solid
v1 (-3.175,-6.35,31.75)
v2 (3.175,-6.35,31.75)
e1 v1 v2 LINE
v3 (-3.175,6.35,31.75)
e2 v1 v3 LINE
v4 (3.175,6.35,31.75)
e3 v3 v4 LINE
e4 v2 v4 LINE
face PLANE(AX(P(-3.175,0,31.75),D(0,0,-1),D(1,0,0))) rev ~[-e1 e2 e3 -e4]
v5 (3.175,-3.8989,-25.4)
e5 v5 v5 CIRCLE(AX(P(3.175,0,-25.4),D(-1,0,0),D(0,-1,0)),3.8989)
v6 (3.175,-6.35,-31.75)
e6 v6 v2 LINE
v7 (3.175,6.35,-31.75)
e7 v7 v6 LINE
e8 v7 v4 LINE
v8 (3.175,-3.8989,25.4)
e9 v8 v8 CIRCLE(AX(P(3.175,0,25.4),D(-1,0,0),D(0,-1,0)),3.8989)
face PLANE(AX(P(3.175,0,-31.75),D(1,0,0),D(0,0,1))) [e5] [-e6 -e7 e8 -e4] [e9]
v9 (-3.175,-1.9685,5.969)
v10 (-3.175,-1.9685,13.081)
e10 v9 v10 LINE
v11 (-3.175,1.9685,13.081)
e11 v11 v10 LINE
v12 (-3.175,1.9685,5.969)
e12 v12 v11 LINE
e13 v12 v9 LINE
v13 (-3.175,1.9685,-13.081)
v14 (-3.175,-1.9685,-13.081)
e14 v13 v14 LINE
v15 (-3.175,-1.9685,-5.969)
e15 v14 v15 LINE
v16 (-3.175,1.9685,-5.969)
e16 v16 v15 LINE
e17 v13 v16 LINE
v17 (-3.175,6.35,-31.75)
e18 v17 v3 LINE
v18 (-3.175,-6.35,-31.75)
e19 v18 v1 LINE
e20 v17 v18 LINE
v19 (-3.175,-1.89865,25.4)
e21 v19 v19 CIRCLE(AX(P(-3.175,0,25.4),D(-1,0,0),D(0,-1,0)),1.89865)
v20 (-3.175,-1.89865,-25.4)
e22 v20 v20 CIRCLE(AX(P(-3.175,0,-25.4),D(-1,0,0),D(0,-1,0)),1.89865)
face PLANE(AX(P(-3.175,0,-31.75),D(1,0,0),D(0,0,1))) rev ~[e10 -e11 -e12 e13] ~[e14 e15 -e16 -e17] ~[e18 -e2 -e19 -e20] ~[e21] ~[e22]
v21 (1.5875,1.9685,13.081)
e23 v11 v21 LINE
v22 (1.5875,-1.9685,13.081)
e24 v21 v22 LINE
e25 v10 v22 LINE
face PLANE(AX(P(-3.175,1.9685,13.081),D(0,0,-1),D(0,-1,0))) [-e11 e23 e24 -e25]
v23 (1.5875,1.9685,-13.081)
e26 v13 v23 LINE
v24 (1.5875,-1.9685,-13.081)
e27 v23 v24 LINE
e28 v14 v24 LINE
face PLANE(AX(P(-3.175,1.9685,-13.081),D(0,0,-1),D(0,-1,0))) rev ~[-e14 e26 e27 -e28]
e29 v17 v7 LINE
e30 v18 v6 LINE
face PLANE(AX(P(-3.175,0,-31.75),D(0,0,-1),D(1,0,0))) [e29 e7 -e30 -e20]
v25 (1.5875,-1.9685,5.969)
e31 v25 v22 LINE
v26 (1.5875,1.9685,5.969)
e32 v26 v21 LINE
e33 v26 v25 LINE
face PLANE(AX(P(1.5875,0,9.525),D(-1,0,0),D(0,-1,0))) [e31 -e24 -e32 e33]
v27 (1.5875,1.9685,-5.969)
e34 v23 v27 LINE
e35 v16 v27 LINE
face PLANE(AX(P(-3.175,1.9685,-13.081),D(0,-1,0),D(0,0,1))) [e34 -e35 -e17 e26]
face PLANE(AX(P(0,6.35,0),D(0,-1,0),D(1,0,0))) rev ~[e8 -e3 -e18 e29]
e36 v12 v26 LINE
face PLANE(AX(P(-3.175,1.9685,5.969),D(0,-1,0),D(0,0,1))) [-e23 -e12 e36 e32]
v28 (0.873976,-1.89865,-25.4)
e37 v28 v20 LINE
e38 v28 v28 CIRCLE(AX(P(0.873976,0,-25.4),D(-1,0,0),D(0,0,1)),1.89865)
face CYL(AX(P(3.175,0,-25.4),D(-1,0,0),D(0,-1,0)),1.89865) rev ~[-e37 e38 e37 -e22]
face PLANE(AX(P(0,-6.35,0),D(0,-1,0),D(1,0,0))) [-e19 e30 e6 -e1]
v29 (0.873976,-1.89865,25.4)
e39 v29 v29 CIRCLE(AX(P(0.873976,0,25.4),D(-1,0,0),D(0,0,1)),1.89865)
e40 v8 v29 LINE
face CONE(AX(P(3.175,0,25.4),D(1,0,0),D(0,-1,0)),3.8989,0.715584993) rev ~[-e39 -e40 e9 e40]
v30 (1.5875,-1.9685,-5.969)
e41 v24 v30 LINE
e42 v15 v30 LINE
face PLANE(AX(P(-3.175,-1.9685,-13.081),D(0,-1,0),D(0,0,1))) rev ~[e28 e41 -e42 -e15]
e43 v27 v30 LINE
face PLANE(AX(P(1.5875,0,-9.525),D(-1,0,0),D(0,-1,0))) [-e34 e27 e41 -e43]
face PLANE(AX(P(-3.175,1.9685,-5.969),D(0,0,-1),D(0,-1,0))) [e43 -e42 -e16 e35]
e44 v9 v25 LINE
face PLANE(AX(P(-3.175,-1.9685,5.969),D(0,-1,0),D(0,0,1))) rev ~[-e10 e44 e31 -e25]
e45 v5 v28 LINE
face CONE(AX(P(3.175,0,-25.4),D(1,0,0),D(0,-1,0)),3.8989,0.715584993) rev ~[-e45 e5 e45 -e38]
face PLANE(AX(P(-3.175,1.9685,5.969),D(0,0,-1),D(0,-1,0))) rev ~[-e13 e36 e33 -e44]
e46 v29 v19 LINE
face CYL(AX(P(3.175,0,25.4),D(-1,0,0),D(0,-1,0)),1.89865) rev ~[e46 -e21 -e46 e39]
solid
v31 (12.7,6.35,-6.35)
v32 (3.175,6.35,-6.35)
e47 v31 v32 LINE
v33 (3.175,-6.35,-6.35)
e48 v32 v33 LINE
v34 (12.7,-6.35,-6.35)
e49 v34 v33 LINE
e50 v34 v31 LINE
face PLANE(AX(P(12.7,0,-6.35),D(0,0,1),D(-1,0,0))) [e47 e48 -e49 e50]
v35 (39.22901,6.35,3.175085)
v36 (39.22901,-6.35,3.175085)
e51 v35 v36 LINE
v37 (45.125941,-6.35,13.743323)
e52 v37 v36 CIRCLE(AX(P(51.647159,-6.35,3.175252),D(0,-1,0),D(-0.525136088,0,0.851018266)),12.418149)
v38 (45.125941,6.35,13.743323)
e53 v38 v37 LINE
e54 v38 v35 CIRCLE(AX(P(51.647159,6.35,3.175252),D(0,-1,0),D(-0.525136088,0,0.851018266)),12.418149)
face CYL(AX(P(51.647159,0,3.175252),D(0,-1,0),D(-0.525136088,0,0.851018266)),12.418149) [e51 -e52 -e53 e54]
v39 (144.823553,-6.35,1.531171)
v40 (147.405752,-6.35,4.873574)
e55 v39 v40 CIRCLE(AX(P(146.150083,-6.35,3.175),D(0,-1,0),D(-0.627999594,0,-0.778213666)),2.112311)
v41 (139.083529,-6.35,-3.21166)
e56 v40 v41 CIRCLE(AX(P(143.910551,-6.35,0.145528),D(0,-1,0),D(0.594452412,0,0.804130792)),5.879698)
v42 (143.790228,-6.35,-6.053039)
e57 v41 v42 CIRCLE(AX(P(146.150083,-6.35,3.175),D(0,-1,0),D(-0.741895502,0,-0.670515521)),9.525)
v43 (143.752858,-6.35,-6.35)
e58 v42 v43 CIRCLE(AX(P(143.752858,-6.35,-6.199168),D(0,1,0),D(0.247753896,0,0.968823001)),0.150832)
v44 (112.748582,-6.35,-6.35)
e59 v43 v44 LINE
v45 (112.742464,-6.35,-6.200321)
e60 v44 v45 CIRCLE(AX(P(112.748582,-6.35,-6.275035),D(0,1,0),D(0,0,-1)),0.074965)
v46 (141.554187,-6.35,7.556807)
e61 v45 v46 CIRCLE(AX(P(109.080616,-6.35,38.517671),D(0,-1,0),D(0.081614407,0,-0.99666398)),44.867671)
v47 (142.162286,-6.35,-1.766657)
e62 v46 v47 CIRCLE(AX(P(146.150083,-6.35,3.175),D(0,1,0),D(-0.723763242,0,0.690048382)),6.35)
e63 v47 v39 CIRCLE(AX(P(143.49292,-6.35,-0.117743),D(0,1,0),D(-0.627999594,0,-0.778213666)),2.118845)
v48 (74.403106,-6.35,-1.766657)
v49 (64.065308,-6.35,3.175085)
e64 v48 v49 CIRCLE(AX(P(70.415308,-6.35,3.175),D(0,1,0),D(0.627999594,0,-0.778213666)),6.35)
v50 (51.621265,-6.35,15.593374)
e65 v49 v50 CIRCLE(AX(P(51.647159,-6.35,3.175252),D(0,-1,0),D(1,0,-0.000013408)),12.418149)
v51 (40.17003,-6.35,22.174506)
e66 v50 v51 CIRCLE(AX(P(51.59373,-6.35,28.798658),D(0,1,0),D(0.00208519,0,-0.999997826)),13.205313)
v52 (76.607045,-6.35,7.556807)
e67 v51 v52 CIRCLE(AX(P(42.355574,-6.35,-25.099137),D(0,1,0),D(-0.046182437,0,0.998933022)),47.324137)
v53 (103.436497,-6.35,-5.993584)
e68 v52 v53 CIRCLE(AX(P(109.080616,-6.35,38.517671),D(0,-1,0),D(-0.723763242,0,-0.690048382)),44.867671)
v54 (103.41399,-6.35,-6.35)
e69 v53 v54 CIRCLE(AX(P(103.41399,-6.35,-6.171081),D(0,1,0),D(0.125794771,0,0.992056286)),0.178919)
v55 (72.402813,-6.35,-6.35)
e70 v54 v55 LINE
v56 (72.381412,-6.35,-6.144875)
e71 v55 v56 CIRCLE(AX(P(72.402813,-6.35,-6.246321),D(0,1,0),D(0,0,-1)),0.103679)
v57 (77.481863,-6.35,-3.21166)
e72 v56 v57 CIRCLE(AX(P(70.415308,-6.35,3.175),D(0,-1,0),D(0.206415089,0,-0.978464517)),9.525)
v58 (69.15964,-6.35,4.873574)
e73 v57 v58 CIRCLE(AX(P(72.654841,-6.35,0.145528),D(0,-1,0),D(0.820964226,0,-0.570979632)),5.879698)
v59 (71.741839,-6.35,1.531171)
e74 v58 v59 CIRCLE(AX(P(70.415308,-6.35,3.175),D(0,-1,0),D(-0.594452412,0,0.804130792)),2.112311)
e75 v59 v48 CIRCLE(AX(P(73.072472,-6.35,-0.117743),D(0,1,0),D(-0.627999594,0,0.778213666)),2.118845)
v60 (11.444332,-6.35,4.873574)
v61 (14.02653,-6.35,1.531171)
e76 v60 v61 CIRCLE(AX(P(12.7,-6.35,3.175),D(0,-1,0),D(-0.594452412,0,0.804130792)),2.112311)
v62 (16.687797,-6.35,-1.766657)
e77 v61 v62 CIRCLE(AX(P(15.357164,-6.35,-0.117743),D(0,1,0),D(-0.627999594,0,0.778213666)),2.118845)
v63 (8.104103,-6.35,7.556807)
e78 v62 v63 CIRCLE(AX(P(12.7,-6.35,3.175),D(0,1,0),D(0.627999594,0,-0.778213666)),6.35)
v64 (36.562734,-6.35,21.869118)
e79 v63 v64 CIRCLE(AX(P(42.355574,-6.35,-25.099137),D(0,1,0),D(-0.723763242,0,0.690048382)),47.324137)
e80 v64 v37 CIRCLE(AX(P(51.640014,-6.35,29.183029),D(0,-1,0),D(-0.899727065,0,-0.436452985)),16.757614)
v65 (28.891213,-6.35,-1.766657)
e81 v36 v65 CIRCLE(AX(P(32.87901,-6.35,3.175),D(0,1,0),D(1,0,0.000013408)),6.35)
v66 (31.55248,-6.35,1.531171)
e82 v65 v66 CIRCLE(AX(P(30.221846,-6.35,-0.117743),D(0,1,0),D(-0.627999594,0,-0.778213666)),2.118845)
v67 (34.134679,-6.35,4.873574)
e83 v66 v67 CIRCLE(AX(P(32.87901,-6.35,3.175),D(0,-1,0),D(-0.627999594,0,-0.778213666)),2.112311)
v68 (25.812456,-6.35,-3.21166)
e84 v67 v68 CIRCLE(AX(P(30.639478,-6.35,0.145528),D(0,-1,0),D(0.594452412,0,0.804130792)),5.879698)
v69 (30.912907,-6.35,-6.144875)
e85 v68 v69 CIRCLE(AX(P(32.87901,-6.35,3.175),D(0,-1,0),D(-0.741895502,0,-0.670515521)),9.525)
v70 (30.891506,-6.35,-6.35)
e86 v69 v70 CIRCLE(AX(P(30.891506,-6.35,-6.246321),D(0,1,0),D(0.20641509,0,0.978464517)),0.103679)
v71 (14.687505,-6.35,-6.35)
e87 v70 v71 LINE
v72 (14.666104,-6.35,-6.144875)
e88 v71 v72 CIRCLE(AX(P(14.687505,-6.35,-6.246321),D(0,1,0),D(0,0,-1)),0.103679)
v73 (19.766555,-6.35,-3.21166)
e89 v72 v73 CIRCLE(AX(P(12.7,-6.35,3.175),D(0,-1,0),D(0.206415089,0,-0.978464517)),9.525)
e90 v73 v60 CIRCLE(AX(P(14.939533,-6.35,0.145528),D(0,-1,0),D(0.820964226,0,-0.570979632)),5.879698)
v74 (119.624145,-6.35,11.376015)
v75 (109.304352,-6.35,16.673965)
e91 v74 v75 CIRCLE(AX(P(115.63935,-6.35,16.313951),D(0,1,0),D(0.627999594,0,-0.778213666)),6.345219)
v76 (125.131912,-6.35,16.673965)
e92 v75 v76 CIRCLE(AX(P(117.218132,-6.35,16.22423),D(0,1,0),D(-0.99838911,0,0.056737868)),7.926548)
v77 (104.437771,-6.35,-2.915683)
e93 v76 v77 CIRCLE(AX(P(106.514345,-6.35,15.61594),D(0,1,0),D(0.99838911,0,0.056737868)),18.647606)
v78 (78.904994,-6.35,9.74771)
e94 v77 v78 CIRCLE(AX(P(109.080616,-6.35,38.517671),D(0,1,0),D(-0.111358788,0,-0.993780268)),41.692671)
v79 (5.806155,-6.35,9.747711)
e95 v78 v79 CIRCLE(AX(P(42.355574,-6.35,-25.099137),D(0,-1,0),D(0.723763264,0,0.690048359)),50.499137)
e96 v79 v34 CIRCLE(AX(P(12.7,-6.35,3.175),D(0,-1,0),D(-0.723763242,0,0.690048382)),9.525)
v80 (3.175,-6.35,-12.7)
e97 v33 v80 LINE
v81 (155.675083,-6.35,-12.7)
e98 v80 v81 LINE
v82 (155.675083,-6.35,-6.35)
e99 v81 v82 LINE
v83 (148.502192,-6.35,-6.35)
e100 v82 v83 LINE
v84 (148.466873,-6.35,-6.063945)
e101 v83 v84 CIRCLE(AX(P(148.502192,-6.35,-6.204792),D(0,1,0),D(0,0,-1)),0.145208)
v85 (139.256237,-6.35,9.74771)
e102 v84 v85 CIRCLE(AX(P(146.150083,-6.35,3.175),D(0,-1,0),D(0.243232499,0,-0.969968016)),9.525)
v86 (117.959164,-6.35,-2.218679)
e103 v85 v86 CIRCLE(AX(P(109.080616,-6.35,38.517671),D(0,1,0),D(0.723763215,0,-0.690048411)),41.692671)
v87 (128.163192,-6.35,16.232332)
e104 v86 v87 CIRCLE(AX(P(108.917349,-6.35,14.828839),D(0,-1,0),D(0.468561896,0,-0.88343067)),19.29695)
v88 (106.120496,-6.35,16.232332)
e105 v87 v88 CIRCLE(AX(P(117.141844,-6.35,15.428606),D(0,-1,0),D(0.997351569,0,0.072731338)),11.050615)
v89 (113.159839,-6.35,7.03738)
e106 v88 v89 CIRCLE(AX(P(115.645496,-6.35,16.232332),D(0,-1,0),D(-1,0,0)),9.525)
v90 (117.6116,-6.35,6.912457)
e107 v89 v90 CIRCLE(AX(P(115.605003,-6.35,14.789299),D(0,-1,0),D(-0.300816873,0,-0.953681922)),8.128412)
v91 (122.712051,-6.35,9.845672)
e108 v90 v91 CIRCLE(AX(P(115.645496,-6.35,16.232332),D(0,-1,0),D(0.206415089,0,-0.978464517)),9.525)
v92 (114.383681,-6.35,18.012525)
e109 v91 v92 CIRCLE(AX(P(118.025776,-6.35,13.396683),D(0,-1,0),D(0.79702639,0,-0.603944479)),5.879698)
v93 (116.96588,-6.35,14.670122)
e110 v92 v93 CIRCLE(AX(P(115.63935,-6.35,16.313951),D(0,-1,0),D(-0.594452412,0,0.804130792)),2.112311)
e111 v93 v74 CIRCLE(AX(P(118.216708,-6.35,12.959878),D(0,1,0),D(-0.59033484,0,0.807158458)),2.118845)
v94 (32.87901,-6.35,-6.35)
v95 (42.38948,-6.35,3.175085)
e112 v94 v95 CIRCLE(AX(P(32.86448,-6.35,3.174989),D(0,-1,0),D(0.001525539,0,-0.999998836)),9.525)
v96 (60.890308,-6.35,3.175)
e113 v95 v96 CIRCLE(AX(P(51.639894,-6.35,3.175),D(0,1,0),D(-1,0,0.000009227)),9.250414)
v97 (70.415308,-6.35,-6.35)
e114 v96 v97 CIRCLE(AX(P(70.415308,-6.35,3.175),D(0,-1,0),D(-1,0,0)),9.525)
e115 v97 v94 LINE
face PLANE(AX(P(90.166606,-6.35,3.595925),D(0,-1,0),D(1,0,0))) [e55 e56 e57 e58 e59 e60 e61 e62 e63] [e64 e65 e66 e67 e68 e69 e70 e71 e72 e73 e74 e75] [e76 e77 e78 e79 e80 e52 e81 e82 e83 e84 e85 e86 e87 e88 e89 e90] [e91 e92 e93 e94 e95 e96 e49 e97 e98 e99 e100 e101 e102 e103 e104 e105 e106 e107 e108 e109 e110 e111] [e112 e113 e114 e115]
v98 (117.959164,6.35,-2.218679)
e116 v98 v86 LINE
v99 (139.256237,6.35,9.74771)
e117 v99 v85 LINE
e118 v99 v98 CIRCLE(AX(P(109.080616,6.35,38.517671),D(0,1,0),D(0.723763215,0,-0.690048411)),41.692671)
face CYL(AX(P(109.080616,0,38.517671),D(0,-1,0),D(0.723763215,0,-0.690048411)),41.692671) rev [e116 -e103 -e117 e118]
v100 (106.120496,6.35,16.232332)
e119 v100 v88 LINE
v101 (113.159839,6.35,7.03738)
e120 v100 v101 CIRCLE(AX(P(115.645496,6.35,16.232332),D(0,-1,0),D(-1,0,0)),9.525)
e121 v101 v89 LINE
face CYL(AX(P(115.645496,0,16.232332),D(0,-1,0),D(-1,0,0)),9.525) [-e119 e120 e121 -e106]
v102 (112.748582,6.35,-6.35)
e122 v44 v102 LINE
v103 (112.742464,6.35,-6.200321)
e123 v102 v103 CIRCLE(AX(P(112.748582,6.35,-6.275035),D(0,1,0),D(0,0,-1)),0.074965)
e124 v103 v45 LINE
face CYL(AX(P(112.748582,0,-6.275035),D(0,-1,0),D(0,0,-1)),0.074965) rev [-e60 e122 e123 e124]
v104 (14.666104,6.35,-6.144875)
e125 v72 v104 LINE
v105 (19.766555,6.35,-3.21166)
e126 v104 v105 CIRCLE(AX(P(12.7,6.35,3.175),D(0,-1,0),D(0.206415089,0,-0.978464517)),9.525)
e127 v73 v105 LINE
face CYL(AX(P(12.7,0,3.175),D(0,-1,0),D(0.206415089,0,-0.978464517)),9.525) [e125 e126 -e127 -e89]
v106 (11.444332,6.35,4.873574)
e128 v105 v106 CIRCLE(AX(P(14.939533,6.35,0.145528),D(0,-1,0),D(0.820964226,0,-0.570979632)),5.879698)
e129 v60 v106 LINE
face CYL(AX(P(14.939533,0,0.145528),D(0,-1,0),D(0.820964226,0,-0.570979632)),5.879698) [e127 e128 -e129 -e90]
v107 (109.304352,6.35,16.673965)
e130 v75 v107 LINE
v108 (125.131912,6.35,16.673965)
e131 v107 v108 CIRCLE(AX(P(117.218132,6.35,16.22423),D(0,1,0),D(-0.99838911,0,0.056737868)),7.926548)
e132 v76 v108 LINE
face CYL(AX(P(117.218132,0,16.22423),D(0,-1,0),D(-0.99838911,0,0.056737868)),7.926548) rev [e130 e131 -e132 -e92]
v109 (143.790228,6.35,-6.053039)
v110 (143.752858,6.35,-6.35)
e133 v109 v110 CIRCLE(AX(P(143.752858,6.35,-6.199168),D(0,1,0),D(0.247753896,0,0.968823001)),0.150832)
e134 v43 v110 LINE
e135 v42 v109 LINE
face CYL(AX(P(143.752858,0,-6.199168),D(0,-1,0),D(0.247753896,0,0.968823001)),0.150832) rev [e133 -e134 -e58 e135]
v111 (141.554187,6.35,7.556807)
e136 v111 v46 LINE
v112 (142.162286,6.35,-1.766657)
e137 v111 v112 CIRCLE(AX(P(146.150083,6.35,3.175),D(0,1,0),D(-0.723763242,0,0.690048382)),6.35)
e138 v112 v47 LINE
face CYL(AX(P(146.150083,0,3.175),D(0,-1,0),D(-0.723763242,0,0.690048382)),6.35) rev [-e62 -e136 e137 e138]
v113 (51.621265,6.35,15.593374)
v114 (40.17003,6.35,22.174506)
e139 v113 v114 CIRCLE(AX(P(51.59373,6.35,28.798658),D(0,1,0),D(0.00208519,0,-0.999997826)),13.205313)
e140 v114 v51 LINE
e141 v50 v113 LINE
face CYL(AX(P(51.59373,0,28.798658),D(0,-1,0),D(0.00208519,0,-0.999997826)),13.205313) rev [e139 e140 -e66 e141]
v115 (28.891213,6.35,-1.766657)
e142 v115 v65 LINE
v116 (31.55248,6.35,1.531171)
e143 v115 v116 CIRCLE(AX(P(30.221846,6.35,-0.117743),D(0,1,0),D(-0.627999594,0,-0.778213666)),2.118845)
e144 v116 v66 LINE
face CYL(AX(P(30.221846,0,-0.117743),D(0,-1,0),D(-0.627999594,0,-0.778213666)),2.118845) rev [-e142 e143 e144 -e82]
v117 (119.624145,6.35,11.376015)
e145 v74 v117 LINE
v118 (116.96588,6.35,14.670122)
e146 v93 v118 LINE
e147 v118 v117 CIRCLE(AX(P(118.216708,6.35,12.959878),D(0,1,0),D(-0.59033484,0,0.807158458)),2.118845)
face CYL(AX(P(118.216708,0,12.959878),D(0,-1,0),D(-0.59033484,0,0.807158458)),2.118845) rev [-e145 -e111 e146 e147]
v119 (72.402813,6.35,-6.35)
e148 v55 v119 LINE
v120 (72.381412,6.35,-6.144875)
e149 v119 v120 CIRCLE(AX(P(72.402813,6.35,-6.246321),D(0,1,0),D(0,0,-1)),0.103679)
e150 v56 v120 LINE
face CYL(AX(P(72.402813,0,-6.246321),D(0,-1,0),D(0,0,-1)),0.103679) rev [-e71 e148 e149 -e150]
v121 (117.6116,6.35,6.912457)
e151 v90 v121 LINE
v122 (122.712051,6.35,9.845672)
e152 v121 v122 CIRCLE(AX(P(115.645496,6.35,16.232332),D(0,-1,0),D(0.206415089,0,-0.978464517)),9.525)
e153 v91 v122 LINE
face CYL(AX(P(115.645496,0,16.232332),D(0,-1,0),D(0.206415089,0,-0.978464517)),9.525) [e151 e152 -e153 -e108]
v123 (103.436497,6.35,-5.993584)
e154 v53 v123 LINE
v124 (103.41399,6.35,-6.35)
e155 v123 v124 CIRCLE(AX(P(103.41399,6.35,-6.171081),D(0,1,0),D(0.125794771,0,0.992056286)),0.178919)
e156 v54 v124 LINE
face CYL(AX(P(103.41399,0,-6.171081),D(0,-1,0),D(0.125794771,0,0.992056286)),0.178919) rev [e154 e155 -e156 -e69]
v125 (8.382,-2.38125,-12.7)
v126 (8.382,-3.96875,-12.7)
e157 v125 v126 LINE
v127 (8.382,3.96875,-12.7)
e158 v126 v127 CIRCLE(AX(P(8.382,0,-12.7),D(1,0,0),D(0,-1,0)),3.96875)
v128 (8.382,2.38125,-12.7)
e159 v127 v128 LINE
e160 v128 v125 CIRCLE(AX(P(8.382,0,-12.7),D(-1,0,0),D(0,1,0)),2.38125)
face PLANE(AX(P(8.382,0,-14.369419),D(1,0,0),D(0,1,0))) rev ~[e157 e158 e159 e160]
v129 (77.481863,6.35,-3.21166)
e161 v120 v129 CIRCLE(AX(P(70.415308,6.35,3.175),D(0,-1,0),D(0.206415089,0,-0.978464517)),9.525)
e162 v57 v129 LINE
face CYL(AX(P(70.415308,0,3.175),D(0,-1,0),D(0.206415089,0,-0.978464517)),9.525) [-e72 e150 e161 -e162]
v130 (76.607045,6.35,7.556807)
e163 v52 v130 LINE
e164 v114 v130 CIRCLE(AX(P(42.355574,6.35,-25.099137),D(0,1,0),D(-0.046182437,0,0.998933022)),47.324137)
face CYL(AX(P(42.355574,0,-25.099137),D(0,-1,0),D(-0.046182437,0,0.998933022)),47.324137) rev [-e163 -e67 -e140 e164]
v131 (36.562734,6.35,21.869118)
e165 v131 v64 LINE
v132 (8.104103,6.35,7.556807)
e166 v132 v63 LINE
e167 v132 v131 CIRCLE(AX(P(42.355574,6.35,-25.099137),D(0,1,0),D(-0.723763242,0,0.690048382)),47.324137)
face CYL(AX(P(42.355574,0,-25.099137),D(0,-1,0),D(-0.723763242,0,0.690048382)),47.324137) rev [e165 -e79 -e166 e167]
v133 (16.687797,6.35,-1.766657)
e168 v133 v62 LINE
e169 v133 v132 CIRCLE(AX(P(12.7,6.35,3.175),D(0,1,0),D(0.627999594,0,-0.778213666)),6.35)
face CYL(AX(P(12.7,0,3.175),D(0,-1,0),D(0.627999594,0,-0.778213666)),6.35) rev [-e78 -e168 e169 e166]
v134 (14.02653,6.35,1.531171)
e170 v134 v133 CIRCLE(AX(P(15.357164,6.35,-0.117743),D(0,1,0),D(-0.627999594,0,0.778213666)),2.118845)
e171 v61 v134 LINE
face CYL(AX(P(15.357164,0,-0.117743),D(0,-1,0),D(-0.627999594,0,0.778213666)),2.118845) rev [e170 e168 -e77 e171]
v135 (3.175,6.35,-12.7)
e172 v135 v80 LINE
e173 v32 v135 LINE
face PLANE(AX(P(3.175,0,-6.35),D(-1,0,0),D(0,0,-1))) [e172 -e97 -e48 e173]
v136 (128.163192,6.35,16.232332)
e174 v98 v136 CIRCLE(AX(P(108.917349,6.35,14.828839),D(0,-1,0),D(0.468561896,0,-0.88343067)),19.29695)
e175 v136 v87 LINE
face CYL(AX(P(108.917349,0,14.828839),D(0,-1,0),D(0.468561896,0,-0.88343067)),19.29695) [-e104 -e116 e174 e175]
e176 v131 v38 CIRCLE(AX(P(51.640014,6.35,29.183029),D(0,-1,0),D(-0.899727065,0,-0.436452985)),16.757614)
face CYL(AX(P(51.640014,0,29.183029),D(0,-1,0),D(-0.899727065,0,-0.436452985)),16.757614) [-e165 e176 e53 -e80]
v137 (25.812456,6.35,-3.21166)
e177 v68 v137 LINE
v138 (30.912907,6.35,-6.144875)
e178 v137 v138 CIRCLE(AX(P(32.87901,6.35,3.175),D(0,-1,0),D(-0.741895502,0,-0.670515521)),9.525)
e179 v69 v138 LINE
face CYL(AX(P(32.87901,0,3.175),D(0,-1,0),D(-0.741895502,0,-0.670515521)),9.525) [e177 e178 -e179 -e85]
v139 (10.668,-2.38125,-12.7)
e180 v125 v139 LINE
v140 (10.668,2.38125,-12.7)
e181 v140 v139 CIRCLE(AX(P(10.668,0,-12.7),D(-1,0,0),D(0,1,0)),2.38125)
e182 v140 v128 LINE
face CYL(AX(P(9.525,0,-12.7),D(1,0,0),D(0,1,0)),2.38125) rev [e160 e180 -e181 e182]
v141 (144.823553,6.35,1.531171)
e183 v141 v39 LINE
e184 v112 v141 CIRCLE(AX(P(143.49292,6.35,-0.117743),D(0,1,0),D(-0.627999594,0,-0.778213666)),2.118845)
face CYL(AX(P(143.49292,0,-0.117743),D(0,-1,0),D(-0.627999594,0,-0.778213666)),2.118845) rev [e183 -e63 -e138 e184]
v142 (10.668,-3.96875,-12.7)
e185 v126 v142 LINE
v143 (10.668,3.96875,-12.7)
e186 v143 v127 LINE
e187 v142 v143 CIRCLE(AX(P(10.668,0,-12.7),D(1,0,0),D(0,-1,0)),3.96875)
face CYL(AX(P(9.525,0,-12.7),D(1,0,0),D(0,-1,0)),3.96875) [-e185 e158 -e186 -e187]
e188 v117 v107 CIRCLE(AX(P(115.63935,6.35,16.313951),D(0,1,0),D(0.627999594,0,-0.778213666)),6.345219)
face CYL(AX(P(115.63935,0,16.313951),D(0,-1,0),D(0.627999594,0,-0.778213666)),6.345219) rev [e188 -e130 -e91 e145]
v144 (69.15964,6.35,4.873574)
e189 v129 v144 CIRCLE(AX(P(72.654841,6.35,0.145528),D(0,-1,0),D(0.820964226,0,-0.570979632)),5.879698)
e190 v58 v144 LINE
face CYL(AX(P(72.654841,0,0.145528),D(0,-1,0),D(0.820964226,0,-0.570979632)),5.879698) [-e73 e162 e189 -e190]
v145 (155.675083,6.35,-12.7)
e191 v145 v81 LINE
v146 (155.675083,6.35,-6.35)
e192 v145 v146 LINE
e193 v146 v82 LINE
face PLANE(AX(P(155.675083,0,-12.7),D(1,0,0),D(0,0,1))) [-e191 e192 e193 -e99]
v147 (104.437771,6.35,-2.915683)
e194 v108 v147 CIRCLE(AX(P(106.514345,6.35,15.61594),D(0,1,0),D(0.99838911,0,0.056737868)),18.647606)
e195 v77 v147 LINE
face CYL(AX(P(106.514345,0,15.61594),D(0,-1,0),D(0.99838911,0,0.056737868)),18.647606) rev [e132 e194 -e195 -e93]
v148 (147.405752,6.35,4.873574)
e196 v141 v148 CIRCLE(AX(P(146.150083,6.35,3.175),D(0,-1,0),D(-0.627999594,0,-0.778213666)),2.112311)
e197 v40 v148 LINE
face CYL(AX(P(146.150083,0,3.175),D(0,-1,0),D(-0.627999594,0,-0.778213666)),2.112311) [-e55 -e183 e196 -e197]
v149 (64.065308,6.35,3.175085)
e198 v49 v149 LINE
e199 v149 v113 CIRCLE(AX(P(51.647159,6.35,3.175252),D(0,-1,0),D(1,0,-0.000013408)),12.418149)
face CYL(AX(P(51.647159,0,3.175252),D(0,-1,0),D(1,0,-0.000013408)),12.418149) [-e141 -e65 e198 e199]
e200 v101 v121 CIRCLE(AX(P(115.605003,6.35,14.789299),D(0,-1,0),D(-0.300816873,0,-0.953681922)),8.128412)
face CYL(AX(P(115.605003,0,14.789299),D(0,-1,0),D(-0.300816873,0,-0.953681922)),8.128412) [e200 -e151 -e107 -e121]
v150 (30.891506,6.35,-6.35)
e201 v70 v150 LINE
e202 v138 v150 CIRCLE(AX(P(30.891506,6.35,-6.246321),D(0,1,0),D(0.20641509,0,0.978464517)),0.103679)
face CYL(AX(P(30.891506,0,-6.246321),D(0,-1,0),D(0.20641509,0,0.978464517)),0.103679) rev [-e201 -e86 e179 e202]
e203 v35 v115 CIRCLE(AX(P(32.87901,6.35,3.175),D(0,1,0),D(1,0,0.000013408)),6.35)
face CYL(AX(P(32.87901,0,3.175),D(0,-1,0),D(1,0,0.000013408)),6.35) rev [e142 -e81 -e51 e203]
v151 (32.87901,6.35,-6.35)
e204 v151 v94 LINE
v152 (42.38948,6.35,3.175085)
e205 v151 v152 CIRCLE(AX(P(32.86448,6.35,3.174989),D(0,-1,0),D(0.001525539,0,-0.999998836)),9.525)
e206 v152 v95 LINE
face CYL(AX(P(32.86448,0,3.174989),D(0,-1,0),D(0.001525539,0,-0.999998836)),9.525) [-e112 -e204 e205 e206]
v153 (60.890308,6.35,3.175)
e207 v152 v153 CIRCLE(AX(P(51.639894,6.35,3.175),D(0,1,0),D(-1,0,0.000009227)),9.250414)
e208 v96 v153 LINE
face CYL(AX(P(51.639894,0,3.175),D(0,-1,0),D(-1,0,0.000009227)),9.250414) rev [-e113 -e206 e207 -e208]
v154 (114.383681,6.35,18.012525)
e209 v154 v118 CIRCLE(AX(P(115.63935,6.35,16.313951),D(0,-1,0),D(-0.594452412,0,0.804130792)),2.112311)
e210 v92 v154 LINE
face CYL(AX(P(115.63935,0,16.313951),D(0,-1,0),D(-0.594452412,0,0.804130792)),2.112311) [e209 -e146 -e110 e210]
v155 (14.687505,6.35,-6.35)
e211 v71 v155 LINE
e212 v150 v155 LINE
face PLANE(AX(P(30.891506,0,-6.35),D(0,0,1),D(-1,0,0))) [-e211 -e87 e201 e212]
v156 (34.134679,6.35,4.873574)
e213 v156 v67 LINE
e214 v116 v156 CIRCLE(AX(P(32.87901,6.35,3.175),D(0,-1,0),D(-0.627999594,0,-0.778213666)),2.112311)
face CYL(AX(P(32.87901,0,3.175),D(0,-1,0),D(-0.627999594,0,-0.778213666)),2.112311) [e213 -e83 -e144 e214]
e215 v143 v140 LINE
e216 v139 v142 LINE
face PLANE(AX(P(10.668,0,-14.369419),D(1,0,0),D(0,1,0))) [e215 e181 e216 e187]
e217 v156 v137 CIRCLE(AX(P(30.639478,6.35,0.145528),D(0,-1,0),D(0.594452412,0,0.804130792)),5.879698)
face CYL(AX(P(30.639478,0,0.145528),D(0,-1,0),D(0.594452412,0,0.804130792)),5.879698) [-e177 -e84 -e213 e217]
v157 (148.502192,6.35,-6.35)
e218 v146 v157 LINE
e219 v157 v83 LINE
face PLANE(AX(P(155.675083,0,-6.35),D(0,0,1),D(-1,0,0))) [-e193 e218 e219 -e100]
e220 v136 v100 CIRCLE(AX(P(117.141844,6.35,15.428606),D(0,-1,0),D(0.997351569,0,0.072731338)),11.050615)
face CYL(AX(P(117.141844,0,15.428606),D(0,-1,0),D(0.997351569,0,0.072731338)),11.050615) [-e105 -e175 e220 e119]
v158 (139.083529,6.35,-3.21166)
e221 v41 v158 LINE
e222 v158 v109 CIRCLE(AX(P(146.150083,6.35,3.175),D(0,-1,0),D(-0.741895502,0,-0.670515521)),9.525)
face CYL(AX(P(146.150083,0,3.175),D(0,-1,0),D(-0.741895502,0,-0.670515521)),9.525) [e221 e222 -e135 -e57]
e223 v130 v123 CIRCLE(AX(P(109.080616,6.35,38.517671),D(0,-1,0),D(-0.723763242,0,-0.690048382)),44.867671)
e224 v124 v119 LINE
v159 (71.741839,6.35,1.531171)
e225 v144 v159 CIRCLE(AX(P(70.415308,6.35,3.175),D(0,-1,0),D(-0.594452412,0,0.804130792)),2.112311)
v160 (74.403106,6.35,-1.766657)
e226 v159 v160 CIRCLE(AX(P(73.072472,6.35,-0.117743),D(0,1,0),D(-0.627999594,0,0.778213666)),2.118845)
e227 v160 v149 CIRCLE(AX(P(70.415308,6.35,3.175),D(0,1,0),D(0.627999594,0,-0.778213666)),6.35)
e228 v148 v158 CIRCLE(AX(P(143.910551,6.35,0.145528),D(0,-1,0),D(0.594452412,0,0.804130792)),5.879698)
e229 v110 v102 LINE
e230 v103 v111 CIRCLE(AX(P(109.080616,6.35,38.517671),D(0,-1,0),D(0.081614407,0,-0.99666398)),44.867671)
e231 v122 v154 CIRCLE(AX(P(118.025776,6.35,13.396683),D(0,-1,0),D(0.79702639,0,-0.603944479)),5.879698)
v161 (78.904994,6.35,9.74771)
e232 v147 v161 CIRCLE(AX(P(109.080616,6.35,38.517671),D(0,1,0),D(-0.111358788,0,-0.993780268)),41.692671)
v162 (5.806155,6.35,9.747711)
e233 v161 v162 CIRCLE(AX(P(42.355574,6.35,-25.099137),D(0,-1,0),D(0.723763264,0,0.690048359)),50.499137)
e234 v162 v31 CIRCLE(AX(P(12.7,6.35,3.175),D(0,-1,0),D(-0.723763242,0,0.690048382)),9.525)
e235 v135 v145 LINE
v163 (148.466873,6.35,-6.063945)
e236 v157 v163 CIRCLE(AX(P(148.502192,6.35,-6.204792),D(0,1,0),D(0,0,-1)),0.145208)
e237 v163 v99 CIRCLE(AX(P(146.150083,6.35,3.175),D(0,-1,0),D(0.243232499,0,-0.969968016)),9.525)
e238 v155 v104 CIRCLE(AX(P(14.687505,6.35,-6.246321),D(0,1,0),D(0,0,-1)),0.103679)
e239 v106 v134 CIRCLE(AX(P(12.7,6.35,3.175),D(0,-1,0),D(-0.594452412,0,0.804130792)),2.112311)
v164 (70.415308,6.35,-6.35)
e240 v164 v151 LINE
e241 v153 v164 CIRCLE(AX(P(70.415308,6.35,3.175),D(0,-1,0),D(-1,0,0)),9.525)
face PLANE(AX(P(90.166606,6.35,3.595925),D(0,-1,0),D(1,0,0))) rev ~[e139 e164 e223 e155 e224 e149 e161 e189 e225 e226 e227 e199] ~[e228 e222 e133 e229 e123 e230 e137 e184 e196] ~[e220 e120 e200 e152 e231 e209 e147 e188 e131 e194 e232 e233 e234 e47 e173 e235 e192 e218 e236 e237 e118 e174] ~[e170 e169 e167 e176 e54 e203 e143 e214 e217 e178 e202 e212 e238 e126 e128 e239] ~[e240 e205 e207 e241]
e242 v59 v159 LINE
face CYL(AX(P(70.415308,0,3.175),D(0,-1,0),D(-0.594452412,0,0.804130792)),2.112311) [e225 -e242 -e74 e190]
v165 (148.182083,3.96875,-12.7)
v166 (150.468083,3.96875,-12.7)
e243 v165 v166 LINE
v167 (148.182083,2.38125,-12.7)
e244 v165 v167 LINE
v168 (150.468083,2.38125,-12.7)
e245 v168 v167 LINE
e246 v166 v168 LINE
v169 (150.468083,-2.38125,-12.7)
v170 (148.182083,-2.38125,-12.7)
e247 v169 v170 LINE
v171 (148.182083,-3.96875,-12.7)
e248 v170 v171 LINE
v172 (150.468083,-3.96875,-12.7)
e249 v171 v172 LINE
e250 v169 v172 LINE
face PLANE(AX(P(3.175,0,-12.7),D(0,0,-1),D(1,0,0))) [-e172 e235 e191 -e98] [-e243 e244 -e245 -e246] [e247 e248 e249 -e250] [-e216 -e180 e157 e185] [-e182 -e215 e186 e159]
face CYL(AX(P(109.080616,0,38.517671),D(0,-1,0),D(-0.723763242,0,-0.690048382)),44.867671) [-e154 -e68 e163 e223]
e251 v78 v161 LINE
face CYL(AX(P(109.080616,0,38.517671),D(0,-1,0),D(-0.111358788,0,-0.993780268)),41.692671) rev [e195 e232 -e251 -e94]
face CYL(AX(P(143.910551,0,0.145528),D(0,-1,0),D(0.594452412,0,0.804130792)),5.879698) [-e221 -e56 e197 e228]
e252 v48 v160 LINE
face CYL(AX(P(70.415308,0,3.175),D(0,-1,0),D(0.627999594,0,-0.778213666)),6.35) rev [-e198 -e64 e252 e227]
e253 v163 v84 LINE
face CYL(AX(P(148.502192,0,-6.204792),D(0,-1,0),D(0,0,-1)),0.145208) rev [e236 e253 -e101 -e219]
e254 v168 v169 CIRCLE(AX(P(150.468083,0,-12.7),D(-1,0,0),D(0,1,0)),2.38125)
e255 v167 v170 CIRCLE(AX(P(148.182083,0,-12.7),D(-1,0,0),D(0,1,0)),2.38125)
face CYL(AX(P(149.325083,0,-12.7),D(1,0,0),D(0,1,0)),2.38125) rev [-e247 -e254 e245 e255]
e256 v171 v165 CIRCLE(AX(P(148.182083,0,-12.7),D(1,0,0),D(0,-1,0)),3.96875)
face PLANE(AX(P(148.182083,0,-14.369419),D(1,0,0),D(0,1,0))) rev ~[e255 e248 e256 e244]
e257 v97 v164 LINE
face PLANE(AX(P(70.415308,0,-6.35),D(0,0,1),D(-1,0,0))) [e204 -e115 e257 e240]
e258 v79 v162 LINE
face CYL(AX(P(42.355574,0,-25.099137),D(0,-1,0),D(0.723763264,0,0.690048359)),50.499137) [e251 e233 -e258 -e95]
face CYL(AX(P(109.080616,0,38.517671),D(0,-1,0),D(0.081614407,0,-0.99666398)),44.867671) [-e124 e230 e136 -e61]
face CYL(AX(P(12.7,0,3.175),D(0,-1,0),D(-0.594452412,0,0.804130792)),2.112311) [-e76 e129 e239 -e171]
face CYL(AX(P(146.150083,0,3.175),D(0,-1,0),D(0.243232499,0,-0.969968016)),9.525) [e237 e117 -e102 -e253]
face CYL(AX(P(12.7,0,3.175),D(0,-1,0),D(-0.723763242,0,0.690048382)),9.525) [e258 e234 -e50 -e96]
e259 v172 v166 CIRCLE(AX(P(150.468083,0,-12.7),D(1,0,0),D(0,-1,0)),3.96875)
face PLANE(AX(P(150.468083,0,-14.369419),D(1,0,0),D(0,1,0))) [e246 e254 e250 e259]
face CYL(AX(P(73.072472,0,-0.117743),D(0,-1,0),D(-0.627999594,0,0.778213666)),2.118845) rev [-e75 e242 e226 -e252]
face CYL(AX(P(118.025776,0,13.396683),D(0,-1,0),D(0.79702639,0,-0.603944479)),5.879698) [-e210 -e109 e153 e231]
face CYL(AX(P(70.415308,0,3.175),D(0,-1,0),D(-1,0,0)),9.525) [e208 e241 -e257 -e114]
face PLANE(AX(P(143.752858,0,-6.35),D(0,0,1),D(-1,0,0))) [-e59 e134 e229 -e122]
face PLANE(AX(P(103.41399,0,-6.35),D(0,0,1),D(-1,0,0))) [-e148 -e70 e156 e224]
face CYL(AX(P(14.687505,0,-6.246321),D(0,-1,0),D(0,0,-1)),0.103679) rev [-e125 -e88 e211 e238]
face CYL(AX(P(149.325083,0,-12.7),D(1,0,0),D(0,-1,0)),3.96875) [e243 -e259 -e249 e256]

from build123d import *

# Parameters (mm, degrees)
F0_W           = 6.35
F0_H           = 63.5
F1_DEPTH       = 6.35
F2_W           = 3.937
F2_H           = 7.112
F3_DEPTH       = 4.7625
F5_D           = 3.7973
F5_CSINK_D     = 7.7978
F5_CSINK_ANGLE = 82
F8_DEPTH       = 6.35
F11_DEPTH      = 1.143
F14_DEPTH      = 1.143


with BuildPart() as f1:
    # F0 (on Front) → F1 (new body, symmetric)
    with BuildSketch(Plane.XZ):
        Rectangle(F0_W, F0_H)
    extrude(amount=F1_DEPTH, both=True)

    # F2 (on face) → F3 (cut)
    with BuildSketch(Plane(origin=(-3.175, 0, 0), x_dir=(0, -1, 0), z_dir=(-1, 0, 0))):
        with Locations((0, 9.525)):
            Rectangle(F2_W, F2_H)
        with Locations((0, -9.525)):
            Rectangle(F2_W, F2_H)
    extrude(amount=-F3_DEPTH, mode=Mode.SUBTRACT)

    # F5 (through all)
    with Locations(Plane.YZ.offset(3.175)):
        with Locations((0, 25.4), (0, -25.4)):
            CounterSinkHole(F5_D / 2, F5_CSINK_D / 2, counter_sink_angle=F5_CSINK_ANGLE)


with BuildPart() as f8:
    # F7 (on Front) → F8 (new body, symmetric)
    with BuildSketch(Plane.XZ):
        with BuildLine():
            Line((12.7, -6.35), (3.175, -6.35))
            Line((3.175, -6.35), (3.175, -12.7))
            Line((3.175, -12.7), (14.2875, -12.7))
            Line((14.2875, -12.7), (144.5625834946, -12.7))
            Line((144.5625834946, -12.7), (155.6750834946, -12.7))
            Line((155.6750834946, -12.7), (155.6750834946, -6.35))
            Line((155.6750834946, -6.35), (148.5021922939, -6.35))
            ThreePointArc((148.5021922939, -6.35), (148.3580788731, -6.2225859603), (148.4668730467, -6.0639453495))
            ThreePointArc((148.4668730467, -6.0639453495), (154.3804826295, 7.9693878732), (139.2562374816, 9.7477096504))
            ThreePointArc((139.2562374816, 9.7477096504), (129.5037806783, 2.1697253309), (117.9591642139, -2.218678791))
            ThreePointArc((117.9591642139, -2.218678791), (125.8039665063, 5.4899725627), (128.1631921853, 16.2323318424))
            ThreePointArc((128.1631921853, 16.2323318424), (117.1418442393, 26.4792205859), (106.1204962932, 16.2323318424))
            ThreePointArc((106.1204962932, 16.2323318424), (108.0823783057, 10.4422652358), (113.15983935, 7.0373802622))
            ThreePointArc((113.15983935, 7.0373802622), (115.3769972686, 6.6640863202), (117.6116000187, 6.9124573185))
            ThreePointArc((117.6116000187, 6.9124573185), (120.3939871842, 7.9753675541), (122.7120509525, 9.8456715064))
            ThreePointArc((122.7120509525, 9.8456715064), (122.1424438367, 17.5947659007), (114.3836814777, 18.0125252276))
            ThreePointArc((114.3836814777, 18.0125252276), (113.9677725127, 15.0225614527), (116.9658802281, 14.6701217141))
            ThreePointArc((116.9658802281, 14.6701217141), (119.8656217416, 14.2905119355), (119.6241447484, 11.3760148449))
            ThreePointArc((119.6241447484, 11.3760148449), (112.7414311782, 10.6691417209), (109.3043522991, 16.6739651556))
            ThreePointArc((109.3043522991, 16.6739651556), (117.2181319858, 24.1507781775), (125.1319116725, 16.6739651556))
            ThreePointArc((125.1319116725, 16.6739651556), (119.3338490751, 2.073653457), (104.4377705355, -2.9156827438))
            ThreePointArc((104.4377705355, -2.9156827438), (90.5557194512, 1.1665394412), (78.9049942328, 9.7477096504))
            ThreePointArc((78.9049942328, 9.7477096504), (42.3555749323, 25.4), (5.8061551221, 9.747710841))
            ThreePointArc((5.8061551221, 9.747710841), (3.9441249506, -0.5747036043), (12.7, -6.35))
        make_face()
        with BuildLine():
            Line((42.4040103546, -6.35), (32.8790103546, -6.35))
            ThreePointArc((32.8790103546, -6.35), (39.6048411229, -3.5550297701), (42.389479598, 3.1750851377))
            ThreePointArc((42.389479598, 3.1750851377), (51.6399365376, 12.4254141584), (60.8903083398, 3.175))
            ThreePointArc((60.8903083398, 3.175), (63.680116249, -3.5601920908), (70.4153083398, -6.35))
            Line((70.4153083398, -6.35), (60.8903083398, -6.35))
            Line((60.8903083398, -6.35), (42.4040103546, -6.35))
        make_face(mode=Mode.SUBTRACT)
        with BuildLine():
            ThreePointArc((112.7424642446, -6.20032054), (128.4134060236, -1.971230267), (141.5541869093, 7.5568072273))
            ThreePointArc((141.5541869093, 7.5568072273), (152.4866200858, 3.5882844391), (142.1622860714, -1.7666567781))
            ThreePointArc((142.1622860714, -1.7666567781), (141.8440058077, 1.2128904936), (144.8235530793, 1.5311707573))
            ThreePointArc((144.8235530793, 1.5311707573), (147.8216607947, 1.8836104959), (147.4057518297, 4.8735742709))
            ThreePointArc((147.4057518297, 4.8735742709), (139.8134554086, 4.3627142336), (139.0835288352, -3.211660336))
            ThreePointArc((139.0835288352, -3.211660336), (141.2274153025, -4.9793217297), (143.7902276315, -6.0530390824))
            ThreePointArc((143.7902276315, -6.0530390824), (143.9025099516, -6.2180002291), (143.7528584905, -6.35))
            Line((143.7528584905, -6.35), (112.74858245, -6.35))
            ThreePointArc((112.74858245, -6.35), (112.6736802251, -6.2780968852), (112.7424642446, -6.20032054))
        make_face(mode=Mode.SUBTRACT)
        with BuildLine():
            ThreePointArc((16.6877974231, -1.7666567781), (8.0283630907, -1.1259660063), (8.1041034147, 7.5568072273))
            ThreePointArc((8.1041034147, 7.5568072273), (21.09299534, 17.1794235864), (36.5627344453, 21.8691177185))
            ThreePointArc((36.5627344453, 21.8691177185), (40.1051208921, 17.0272114642), (45.1259411578, 13.7433232546))
            ThreePointArc((45.1259411578, 13.7433232546), (40.8029525277, 9.22616916), (39.229010354, 3.1750851377))
            ThreePointArc((39.229010354, 3.1750851377), (35.6176603036, -2.5540746597), (28.8912129315, -1.7666567781))
            ThreePointArc((28.8912129315, -1.7666567781), (28.5729326677, 1.2128904936), (31.5524799393, 1.5311707573))
            ThreePointArc((31.5524799393, 1.5311707573), (34.5505876548, 1.8836104959), (34.1346786898, 4.8735742709))
            ThreePointArc((34.1346786898, 4.8735742709), (26.5423822687, 4.3627142336), (25.8124556953, -3.211660336))
            ThreePointArc((25.8124556953, -3.211660336), (28.1305194636, -5.0819642883), (30.9129066291, -6.1448745239))
            ThreePointArc((30.9129066291, -6.1448745239), (30.9946251149, -6.2570794195), (30.8915056926, -6.35))
            Line((30.8915056926, -6.35), (14.687504662, -6.35))
            ThreePointArc((14.687504662, -6.35), (14.5843852397, -6.2570794195), (14.6661037255, -6.1448745239))
            ThreePointArc((14.6661037255, -6.1448745239), (17.448490891, -5.0819642883), (19.7665546593, -3.211660336))
            ThreePointArc((19.7665546593, -3.211660336), (19.0366280859, 4.3627142336), (11.4443316648, 4.8735742709))
            ThreePointArc((11.4443316648, 4.8735742709), (11.0284226998, 1.8836104959), (14.0265304153, 1.5311707573))
            ThreePointArc((14.0265304153, 1.5311707573), (17.0060776869, 1.2128904936), (16.6877974231, -1.7666567781))
        make_face(mode=Mode.SUBTRACT)
        with BuildLine():
            ThreePointArc((40.1700301412, 22.1745061888), (59.9758804335, 18.8223696543), (76.6070448051, 7.5568072273))
            ThreePointArc((76.6070448051, 7.5568072273), (88.8533362909, -1.5318616167), (103.436497444, -5.9935840749))
            ThreePointArc((103.436497444, -5.9935840749), (103.592553348, -6.1823573261), (103.4139904195, -6.35))
            Line((103.4139904195, -6.35), (72.4028130018, -6.35))
            ThreePointArc((72.4028130018, -6.35), (72.2996935795, -6.2570794195), (72.3814120653, -6.1448745239))
            ThreePointArc((72.3814120653, -6.1448745239), (75.1637992309, -5.0819642883), (77.4818629991, -3.211660336))
            ThreePointArc((77.4818629991, -3.211660336), (76.7519364257, 4.3627142336), (69.1596400046, 4.8735742709))
            ThreePointArc((69.1596400046, 4.8735742709), (68.7437310396, 1.8836104959), (71.7418387551, 1.5311707573))
            ThreePointArc((71.7418387551, 1.5311707573), (74.7213860267, 1.2128904936), (74.4031057629, -1.7666567781))
            ThreePointArc((74.4031057629, -1.7666567781), (67.6766583907, -2.5540746597), (64.0653083404, 3.1750851378))
            ThreePointArc((64.0653083404, 3.1750851378), (60.4190158784, 11.9653004079), (51.6212651489, 15.5933736315))
            ThreePointArc((51.6212651489, 15.5933736315), (45.0137626955, 17.3494514739), (40.1700301412, 22.1745061888))
        make_face(mode=Mode.SUBTRACT)
    extrude(amount=F8_DEPTH, both=True)

    # F10 (on offset) → F11 (join, symmetric)
    with BuildSketch(Plane.YZ.offset(149.3250834946)):
        with BuildLine():
            Line((-2.38125, -12.7), (-3.96875, -12.7))
            ThreePointArc((-3.96875, -12.7), (0, -16.66875), (3.96875, -12.7))
            Line((3.96875, -12.7), (2.38125, -12.7))
            ThreePointArc((2.38125, -12.7), (0, -15.08125), (-2.38125, -12.7))
        make_face()
    extrude(amount=F11_DEPTH, both=True)

    # F13 (on offset) → F14 (join, symmetric)
    with BuildSketch(Plane.YZ.offset(9.525)):
        with BuildLine():
            ThreePointArc((2.38125, -12.7), (0, -15.08125), (-2.38125, -12.7))
            Line((-2.38125, -12.7), (-3.96875, -12.7))
            ThreePointArc((-3.96875, -12.7), (0, -16.66875), (3.96875, -12.7))
            Line((3.96875, -12.7), (2.38125, -12.7))
        make_face()
    extrude(amount=F14_DEPTH, both=True)


solid = Compound([f1.part, f8.part])
